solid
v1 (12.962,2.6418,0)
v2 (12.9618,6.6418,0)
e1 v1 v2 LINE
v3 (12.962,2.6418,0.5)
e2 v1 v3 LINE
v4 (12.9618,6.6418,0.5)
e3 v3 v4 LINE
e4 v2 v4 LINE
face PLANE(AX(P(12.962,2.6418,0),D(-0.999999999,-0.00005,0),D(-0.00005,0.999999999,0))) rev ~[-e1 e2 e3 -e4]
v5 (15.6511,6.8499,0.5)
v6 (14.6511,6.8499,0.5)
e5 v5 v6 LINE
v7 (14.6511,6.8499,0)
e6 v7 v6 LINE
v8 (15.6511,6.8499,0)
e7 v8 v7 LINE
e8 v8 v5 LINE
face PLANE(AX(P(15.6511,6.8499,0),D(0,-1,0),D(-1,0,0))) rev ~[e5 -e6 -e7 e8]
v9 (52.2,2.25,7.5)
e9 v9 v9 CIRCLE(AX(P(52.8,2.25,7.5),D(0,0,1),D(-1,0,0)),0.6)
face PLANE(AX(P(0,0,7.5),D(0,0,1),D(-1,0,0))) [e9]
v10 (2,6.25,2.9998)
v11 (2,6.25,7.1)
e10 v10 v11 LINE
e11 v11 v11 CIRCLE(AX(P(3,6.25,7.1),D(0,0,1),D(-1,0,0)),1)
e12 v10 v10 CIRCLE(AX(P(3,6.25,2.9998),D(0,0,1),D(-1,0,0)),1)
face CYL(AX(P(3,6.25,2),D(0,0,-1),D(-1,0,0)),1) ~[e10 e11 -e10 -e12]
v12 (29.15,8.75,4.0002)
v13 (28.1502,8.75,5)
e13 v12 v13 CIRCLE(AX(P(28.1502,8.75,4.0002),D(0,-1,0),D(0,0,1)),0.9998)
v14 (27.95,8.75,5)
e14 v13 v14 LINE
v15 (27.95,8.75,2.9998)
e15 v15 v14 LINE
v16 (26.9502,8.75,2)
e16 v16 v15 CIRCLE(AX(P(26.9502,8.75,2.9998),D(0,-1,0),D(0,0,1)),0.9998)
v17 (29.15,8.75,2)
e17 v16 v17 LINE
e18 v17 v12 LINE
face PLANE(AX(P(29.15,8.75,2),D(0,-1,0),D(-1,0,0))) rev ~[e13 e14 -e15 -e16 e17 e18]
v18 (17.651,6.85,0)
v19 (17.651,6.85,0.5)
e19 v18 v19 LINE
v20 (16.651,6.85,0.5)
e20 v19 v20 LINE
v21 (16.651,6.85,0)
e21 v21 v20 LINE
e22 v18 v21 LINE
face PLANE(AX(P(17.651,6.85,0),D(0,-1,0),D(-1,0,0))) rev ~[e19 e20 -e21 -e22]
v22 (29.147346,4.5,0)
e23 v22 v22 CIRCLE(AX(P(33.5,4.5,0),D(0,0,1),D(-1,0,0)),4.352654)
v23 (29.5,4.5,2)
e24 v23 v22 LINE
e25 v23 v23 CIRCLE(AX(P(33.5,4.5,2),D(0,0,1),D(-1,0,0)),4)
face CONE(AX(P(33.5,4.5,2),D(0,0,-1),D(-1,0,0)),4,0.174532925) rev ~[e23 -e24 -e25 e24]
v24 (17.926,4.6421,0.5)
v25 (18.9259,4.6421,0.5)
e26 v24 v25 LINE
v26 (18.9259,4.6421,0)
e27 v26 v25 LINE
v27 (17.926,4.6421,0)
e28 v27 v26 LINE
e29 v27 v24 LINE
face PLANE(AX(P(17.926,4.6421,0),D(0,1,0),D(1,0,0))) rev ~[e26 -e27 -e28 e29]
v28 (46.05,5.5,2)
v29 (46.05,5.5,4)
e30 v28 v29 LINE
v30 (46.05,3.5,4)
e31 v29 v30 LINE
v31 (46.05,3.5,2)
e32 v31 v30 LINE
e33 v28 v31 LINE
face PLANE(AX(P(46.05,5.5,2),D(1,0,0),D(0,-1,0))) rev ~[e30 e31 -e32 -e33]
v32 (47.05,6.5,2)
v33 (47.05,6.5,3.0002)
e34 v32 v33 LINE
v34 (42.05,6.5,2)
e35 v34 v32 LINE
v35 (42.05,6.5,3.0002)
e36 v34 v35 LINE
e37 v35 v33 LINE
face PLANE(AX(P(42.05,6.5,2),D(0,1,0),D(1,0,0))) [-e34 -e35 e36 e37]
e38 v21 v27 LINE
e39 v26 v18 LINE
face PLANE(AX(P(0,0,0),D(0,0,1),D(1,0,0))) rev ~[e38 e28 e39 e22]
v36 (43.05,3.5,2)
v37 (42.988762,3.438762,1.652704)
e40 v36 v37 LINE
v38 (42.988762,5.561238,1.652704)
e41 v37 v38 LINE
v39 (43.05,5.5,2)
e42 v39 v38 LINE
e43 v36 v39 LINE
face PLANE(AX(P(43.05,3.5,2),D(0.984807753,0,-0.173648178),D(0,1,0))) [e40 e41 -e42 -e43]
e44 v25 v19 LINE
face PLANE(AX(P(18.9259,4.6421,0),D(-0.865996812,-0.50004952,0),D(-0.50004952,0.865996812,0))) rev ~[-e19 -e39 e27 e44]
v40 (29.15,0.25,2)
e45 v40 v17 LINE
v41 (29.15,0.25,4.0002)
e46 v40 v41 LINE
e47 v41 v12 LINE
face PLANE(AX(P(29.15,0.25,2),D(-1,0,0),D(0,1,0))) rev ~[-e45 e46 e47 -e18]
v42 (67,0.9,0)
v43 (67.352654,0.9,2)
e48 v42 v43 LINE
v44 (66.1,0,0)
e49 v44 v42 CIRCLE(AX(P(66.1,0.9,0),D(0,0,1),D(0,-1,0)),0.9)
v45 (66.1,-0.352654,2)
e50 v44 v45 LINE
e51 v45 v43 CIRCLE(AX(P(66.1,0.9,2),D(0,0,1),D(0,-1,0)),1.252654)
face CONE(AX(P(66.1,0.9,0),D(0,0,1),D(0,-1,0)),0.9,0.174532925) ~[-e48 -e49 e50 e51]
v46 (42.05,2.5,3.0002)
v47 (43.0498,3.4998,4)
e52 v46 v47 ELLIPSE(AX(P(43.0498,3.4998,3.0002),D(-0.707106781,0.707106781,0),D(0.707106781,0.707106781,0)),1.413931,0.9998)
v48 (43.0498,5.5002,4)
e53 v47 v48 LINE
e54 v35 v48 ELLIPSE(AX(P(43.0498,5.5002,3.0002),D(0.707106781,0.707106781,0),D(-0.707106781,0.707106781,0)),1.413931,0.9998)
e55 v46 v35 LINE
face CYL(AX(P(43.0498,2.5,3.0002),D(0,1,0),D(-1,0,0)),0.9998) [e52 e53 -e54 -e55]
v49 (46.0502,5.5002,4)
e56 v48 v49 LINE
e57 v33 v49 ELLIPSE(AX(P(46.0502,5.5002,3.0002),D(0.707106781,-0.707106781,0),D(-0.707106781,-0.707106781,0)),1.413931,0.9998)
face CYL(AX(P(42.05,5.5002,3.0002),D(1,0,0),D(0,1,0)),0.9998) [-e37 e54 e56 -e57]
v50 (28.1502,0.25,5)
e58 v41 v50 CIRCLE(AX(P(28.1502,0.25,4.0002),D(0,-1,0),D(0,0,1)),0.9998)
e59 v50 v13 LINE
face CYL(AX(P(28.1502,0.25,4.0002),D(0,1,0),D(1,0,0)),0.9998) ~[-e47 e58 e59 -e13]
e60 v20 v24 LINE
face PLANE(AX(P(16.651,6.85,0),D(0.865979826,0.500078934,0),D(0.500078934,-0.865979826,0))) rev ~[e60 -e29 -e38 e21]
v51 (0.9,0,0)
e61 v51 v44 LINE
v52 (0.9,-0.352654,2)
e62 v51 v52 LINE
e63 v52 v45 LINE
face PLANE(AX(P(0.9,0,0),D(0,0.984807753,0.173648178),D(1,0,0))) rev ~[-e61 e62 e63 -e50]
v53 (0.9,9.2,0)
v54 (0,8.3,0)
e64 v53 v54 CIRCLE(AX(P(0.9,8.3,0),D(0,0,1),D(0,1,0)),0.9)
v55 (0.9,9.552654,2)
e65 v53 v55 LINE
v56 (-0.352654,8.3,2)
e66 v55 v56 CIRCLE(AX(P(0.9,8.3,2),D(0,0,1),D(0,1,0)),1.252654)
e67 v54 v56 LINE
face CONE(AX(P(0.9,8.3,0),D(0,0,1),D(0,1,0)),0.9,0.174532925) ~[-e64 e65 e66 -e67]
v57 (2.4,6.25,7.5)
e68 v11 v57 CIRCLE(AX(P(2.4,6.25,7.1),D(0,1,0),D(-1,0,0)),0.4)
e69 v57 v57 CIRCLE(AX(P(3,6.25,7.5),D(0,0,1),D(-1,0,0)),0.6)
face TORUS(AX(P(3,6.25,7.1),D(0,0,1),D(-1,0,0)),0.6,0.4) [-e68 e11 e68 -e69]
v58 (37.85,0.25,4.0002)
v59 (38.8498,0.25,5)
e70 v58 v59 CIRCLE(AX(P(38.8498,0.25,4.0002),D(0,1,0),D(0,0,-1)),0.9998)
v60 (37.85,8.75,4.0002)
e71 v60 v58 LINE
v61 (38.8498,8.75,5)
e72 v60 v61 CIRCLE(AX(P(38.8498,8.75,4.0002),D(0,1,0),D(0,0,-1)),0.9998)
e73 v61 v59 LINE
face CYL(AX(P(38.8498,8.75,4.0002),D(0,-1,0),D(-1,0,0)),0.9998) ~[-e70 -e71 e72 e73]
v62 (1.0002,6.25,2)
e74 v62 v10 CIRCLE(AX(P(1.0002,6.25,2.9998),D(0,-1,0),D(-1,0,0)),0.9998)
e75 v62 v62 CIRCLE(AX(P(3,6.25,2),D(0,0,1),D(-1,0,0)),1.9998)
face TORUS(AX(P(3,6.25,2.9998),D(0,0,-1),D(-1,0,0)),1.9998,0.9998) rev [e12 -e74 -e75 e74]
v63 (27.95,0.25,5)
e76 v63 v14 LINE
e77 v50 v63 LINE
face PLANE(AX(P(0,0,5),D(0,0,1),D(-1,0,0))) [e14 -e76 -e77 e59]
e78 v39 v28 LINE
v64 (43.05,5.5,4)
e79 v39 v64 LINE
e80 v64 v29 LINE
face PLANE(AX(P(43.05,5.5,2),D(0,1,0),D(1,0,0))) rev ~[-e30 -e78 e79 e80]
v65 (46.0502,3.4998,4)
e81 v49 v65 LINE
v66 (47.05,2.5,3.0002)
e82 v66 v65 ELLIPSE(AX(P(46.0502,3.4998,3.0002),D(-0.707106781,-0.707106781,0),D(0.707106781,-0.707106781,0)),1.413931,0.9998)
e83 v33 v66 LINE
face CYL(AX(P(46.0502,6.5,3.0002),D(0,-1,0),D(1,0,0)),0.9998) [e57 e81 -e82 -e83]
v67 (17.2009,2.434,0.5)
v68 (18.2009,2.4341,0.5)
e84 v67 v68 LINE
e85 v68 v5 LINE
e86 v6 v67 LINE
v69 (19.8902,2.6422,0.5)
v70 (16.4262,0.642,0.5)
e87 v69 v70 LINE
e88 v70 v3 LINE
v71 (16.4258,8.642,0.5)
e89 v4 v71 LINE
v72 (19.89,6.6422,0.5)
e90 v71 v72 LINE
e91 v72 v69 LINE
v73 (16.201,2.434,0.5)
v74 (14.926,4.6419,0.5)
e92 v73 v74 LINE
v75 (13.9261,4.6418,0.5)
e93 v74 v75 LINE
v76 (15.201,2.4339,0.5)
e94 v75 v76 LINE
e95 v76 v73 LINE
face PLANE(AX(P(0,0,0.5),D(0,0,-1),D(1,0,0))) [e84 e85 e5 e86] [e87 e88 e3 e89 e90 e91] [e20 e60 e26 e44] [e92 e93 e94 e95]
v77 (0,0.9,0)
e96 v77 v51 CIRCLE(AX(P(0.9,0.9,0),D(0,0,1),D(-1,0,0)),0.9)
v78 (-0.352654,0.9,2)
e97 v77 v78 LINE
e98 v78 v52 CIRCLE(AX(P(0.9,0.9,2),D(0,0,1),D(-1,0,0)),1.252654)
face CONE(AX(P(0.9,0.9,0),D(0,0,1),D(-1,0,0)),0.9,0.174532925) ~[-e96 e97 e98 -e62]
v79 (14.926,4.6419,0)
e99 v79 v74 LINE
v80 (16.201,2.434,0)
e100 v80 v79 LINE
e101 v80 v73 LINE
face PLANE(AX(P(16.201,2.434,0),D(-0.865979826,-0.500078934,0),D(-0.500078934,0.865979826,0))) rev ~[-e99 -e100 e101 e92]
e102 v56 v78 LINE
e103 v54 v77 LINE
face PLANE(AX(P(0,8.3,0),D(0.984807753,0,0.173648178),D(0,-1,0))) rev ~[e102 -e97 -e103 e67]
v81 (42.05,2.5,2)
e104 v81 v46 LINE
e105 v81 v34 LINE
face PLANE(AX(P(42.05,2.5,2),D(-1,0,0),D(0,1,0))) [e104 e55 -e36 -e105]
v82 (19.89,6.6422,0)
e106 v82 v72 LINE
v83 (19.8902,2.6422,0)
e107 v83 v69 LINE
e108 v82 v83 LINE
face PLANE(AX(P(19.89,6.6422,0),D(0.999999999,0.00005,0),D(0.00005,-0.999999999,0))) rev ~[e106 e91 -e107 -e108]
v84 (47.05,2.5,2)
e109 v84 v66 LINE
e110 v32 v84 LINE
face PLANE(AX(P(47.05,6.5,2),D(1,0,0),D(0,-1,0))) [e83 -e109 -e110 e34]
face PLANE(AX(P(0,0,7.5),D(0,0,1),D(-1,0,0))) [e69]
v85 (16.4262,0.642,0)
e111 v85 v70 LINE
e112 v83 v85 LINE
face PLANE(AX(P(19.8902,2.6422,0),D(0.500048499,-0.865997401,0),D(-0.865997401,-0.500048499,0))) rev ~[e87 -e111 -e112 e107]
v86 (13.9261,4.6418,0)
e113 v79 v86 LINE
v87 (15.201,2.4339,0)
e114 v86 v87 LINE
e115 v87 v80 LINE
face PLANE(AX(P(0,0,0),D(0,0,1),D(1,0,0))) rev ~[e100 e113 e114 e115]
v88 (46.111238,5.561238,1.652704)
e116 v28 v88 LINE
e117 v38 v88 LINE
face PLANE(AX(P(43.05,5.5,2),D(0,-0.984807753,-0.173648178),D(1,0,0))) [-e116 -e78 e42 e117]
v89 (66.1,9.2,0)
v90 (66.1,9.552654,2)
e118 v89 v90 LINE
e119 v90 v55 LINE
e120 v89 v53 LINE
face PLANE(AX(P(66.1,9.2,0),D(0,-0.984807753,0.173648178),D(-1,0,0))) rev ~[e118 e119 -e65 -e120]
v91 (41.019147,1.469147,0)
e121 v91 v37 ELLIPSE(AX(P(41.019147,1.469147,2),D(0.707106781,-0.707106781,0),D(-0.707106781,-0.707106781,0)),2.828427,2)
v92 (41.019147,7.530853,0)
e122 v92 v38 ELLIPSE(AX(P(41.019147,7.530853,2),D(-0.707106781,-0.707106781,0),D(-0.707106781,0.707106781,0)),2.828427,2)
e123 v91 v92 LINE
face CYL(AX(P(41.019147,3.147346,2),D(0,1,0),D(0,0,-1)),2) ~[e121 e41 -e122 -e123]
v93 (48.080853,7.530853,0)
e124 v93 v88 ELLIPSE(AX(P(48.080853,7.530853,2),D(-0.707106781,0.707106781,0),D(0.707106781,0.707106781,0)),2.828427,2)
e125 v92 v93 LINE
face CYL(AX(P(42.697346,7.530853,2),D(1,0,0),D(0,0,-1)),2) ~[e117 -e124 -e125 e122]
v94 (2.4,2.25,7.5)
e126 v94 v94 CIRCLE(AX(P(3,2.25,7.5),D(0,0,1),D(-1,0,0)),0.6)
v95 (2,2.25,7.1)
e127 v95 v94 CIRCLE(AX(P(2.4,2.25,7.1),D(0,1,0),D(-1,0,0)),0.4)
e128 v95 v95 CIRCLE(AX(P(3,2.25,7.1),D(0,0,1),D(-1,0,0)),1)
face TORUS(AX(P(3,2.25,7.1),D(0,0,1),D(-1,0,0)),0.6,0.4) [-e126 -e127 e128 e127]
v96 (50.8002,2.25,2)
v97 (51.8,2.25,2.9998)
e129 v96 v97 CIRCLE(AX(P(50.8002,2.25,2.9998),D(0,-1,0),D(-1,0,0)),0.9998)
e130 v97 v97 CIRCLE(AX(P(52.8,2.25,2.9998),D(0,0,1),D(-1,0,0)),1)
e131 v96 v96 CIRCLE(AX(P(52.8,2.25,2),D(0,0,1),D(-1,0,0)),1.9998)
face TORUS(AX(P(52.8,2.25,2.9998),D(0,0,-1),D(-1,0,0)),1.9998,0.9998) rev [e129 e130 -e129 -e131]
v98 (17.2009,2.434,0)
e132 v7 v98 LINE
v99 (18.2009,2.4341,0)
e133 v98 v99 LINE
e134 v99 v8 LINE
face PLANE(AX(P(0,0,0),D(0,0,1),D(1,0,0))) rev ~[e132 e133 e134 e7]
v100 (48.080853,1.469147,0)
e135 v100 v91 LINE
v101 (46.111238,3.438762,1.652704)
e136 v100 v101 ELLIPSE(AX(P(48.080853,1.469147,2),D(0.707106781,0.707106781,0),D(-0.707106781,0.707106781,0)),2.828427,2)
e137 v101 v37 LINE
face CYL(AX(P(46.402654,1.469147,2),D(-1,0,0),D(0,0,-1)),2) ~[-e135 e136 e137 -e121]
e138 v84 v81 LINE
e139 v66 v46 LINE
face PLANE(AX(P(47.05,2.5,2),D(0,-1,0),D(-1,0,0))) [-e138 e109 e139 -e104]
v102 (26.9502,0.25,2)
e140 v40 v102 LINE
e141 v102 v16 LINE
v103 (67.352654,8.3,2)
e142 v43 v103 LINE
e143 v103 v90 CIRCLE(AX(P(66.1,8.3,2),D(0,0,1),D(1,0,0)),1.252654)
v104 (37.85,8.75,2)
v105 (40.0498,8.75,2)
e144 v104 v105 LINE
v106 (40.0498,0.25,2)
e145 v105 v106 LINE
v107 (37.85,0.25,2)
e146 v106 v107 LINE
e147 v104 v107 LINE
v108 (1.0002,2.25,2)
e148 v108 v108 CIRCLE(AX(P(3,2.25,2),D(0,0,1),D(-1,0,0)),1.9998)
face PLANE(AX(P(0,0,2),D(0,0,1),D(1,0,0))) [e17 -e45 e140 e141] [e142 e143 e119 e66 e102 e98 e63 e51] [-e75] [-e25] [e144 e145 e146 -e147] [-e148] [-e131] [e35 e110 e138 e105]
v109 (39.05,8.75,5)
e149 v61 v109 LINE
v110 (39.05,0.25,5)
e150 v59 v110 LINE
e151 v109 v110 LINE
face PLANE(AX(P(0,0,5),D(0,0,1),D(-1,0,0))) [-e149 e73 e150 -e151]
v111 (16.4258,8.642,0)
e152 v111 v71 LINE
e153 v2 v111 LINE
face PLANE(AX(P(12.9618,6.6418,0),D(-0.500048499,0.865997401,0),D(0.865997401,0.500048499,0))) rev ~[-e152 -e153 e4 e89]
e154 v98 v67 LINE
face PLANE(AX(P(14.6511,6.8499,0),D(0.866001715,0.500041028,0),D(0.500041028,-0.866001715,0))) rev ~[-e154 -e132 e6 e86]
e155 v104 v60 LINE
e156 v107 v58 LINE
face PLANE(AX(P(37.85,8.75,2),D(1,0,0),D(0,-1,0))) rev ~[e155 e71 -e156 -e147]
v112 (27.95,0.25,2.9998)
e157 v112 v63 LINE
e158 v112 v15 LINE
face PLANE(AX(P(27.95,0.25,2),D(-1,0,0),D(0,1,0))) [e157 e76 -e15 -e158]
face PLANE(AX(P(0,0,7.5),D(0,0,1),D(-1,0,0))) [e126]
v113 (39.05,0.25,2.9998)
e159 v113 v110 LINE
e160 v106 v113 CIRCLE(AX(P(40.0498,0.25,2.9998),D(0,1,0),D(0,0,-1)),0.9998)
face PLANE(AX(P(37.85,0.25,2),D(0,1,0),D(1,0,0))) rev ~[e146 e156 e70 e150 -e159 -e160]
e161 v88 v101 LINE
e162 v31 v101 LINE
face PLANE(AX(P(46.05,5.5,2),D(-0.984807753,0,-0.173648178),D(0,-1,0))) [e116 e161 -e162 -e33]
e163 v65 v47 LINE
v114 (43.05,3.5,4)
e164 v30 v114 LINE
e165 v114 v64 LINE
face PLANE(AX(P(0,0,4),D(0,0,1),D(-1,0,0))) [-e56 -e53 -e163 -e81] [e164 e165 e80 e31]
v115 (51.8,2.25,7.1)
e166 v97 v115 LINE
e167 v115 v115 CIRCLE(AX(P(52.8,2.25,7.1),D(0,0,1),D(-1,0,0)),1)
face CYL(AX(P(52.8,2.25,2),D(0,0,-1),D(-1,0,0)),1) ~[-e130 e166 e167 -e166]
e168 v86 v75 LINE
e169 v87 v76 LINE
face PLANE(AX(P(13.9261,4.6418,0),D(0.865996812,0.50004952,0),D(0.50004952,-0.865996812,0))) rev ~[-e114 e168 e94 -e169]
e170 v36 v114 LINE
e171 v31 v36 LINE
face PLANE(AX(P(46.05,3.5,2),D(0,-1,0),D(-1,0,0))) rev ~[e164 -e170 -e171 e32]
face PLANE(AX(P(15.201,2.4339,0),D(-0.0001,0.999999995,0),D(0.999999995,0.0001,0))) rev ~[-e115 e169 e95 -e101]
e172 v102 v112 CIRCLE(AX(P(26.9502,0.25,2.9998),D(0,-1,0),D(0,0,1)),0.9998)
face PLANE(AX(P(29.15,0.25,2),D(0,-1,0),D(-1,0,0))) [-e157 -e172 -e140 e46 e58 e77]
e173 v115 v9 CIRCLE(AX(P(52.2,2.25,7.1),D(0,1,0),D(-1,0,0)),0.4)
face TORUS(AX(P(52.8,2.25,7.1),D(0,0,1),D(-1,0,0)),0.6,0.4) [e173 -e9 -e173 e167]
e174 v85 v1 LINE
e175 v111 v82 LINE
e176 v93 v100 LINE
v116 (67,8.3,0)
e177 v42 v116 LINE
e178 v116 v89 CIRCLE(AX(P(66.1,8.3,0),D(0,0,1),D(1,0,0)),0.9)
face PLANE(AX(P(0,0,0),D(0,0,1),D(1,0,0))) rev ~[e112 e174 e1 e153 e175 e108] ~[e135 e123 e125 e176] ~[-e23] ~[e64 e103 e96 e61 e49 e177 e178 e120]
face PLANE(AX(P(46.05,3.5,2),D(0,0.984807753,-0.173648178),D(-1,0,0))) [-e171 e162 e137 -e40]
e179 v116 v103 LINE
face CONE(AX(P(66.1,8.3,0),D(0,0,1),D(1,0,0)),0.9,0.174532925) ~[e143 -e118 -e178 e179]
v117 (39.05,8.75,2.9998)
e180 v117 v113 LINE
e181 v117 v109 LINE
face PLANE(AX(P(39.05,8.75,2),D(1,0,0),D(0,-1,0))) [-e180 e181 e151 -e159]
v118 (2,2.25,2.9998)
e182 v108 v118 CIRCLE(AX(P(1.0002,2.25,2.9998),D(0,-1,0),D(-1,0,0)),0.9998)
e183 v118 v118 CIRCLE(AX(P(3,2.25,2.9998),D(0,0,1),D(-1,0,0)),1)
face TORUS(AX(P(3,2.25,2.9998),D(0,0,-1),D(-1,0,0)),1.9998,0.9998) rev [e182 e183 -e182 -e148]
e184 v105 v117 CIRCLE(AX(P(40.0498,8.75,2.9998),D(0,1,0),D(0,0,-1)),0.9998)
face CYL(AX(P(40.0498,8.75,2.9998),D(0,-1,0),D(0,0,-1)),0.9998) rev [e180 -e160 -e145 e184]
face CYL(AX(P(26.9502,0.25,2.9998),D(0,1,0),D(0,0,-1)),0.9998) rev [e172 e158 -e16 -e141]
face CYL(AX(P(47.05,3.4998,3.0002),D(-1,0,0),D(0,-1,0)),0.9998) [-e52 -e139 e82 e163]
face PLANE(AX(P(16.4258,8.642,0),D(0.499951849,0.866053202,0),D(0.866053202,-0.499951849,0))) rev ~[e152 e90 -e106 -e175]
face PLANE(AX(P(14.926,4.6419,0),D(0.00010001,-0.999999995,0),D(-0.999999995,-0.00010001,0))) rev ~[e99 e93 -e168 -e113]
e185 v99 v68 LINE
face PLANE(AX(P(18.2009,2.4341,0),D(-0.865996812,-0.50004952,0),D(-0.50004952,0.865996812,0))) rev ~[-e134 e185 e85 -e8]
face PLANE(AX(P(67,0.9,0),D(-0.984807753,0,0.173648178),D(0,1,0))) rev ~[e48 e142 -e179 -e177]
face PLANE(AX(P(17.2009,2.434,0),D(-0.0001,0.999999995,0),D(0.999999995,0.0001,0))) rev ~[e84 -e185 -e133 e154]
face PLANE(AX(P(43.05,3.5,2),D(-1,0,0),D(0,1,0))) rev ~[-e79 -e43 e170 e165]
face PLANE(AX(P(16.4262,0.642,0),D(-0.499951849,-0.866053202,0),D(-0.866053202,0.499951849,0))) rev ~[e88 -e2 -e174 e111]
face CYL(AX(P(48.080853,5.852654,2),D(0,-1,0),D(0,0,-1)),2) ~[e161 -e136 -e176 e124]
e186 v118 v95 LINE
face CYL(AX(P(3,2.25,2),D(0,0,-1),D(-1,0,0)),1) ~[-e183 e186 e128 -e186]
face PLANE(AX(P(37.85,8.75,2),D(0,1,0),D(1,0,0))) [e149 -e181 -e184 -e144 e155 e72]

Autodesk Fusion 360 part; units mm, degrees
sketch "Sketch1" plane through (0, 0, 0) normal (0, 0, 1) x (1, 0, 0) in component "FrontCover"
  line L0 (0.9, 0) -> (66.1, 0)
  line L1 (67, 0.9) -> (67, 8.3)
  line L2 (66.1, 9.2) -> (0.9, 9.2)
  line L3 (0, 8.3) -> (0, 0.9)
  arc A0 (0.9, 9.2) -> (0, 8.3) centre (0.9, 8.3) ccw
  arc A1 (67, 8.3) -> (66.1, 9.2) centre (66.1, 8.3) ccw
  arc A2 (66.1, 0) -> (67, 0.9) centre (66.1, 0.9) ccw
  arc A3 (0, 0.9) -> (0.9, 0) centre (0.9, 0.9) ccw
  point P0 (67, 0)
  point P1 (0, 9.2)
  dimension "d1" = 67
  dimension "d2" = 9.2
  dimension "d3" = 0.9
extrude "Extrude1" add sketch "Sketch1" along normal blind 2 draft 10 in component "FrontCover"
sketch "Sketch2" plane through (0, 0, 2) normal (0, 0, 1) x (-1, 0, 0) in component "FrontCover"
  line L0 (0.3527, -8.3) -> (0.3527, -0.9)
  arc A0 (0.3527, -0.9) -> (-0.9, 0.3527) centre (-0.9, -0.9) ccw
  line L1 (-0.9, 0.3527) -> (-66.1, 0.3527)
  arc A1 (-66.1, 0.3527) -> (-67.3527, -0.9) centre (-66.1, -0.9) ccw
  line L2 (-67.3527, -0.9) -> (-67.3527, -8.3)
  arc A2 (-67.3527, -8.3) -> (-66.1, -9.5527) centre (-66.1, -8.3) ccw
  line L3 (-66.1, -9.5527) -> (-0.9, -9.5527)
  arc A3 (-0.9, -9.5527) -> (0.3527, -8.3) centre (-0.9, -8.3) ccw
  line L4 (-66.1, -9.2) -> (-0.9, -9.2)
  arc A4 (-0.9, -9.2) -> (0, -8.3) centre (-0.9, -8.3) ccw
  line L5 (0, -8.3) -> (0, -0.9)
  arc A5 (0, -0.9) -> (-0.9, 0) centre (-0.9, -0.9) ccw
  line L6 (-0.9, 0) -> (-66.1, 0)
  arc A6 (-66.1, 0) -> (-67, -0.9) centre (-66.1, -0.9) ccw
  line L7 (-67, -0.9) -> (-67, -8.3)
  arc A7 (-67, -8.3) -> (-66.1, -9.2) centre (-66.1, -8.3) ccw
  line L8 (-1, -9.2) -> (-1, 0) construction
  circle A8 centre (-3, -6.25) radius 1
  circle A9 centre (-3, -2.25) radius 1
  circle A10 centre (-33.5, -4.5) radius 4
  circle A11 centre (-52.8, -2.25) radius 1
  line L9 (-37.85, -8.75) -> (-37.85, -0.25)
  line L10 (-29.15, -0.25) -> (-29.15, -8.75)
  line L11 (-29.15, -8.75) -> (-37.85, -0.25) construction
  line L12 (-37.85, -8.75) -> (-29.15, -0.25) construction
  line L13 (-27.95, -0.25) -> (-27.95, -8.75)
  line L14 (-39.05, -8.75) -> (-39.05, -0.25)
  line L15 (-37.85, -8.75) -> (-39.05, -8.75)
  line L16 (-37.85, -0.25) -> (-39.05, -0.25)
  line L17 (-29.15, -0.25) -> (-27.95, -0.25)
  line L18 (-29.15, -8.75) -> (-27.95, -8.75)
  line L19 (-46.05, -3.5) -> (-43.05, -3.5)
  line L20 (-43.05, -3.5) -> (-43.05, -5.5)
  line L21 (-43.05, -5.5) -> (-46.05, -5.5)
  line L22 (-46.05, -5.5) -> (-46.05, -3.5)
  line L23 (-46.05, -3.5) -> (-43.05, -5.5) construction
  line L24 (-43.05, -3.5) -> (-46.05, -5.5) construction
  line L25 (-42.05, -2.5) -> (-42.05, -6.5)
  line L26 (-42.05, -6.5) -> (-47.05, -6.5)
  line L27 (-47.05, -6.5) -> (-47.05, -2.5)
  line L28 (-47.05, -2.5) -> (-42.05, -2.5)
  point P0 (-33.5, -4.5)
  point P1 (-44.55, -4.5)
  dimension "d6" = 1
  dimension "d7" = 2
  dimension "d8" = 2
  dimension "d9" = 2
  dimension "d10" = 2
  dimension "d11" = 8
  dimension "d12" = 32.5
  dimension "d13" = 4.5
  dimension "d14" = 2.25
  dimension "d15" = 6.25
  dimension "d16" = 2
  dimension "d17" = 2.25
  dimension "d18" = 51.8
  dimension "d19" = 8.7
  dimension "d20" = 8.5
  dimension "d21" = -1.2
  dimension "d22" = -1.2
  dimension "d23" = 3
  dimension "d24" = 2
  dimension "d25" = 11.05
  dimension "d44" = -1
extrude "Extrude2" add sketch "Sketch2" along normal blind 3 contours L9 L14 L15 L16 in component "FrontCover"
extrude "Extrude3" add sketch "Sketch2" along normal blind 3 contours L10 L13 L17 L18 in component "FrontCover"
extrude "Extrude4" add sketch "Sketch2" along normal blind 5.5 contours A8 | A9 | A11 in component "FrontCover"
extrude "Extrude8" add sketch "Sketch2" along normal blind 2 contours L25 L26 L27 L28 in component "FrontCover"
extrude "Extrude5" cut sketch "Sketch2" against normal up to surface (2 mm away) draft 10 contours L19 L20 L21 L22 in component "FrontCover"
extrude "Extrude6" cut sketch "Sketch2" against normal up to surface (2 mm away) draft 10 contours A10 in component "FrontCover"
fillet "Fillet1" radius 1 11 edges at (3.9323, 1.8884, 2) (3.9323, 5.8884, 2) (53.7323, 1.8884, 2) (39.05, 4.5, 2) (27.95, 4.5, 2) (29.15, 4.5, 5) (37.85, 4.5, 5) (42.05, 4.5, 4) (47.05, 4.5, 4) (44.55, 2.5, 4) (44.55, 6.5, 4) in component "FrontCover"
fillet "Fillet3" radius 2 4 edges at (44.55, 3.1473, 0) (42.6973, 4.5, 0) (44.55, 5.8527, 0) (46.4027, 4.5, 0) in component "FrontCover"
fillet "Fillet4" radius 0.4 3 edges at (53.7323, 2.6116, 7.5) (3.9323, 6.6116, 7.5) (3.9323, 2.6116, 7.5) in component "FrontCover"
sketch "Sketch3" plane through (0, 0, 0) normal (0, 0, -1) x (1, 0, 0) in component "FrontCover"
  line L0 (66.1, 0) -> (0.9, 0)
  arc A0 (0.9, 0) -> (0, -0.9) centre (0.9, -0.9) ccw
  line L1 (0, -0.9) -> (0, -8.3)
  arc A1 (0, -8.3) -> (0.9, -9.2) centre (0.9, -8.3) ccw
  line L2 (0.9, -9.2) -> (66.1, -9.2)
  line L3 (19.8902, -2.6422) -> (16.4262, -0.642)
  line L4 (12.962, -2.6418) -> (12.9618, -6.6418)
  line L5 (14.926, -4.6419) -> (13.9261, -4.6418)
  line L6 (16.201, -2.434) -> (14.926, -4.6419)
  line L7 (17.2009, -2.434) -> (18.2009, -2.4341)
  line L8 (14.6511, -6.8499) -> (17.2009, -2.434)
  line L9 (16.4262, -0.642) -> (12.962, -2.6418)
  line L10 (18.2009, -2.4341) -> (15.6511, -6.8499)
  line L11 (13.9261, -4.6418) -> (15.201, -2.4339)
  line L12 (15.201, -2.4339) -> (16.201, -2.434)
  line L13 (18.9259, -4.6421) -> (17.651, -6.85)
  line L14 (15.6511, -6.8499) -> (14.6511, -6.8499)
  line L15 (17.651, -6.85) -> (16.651, -6.85)
  line L16 (17.926, -4.6421) -> (18.9259, -4.6421)
  line L17 (16.651, -6.85) -> (17.926, -4.6421)
  line L18 (12.9618, -6.6418) -> (16.4258, -8.642)
  line L19 (19.89, -6.6422) -> (19.8902, -2.6422)
  line L20 (16.4258, -8.642) -> (19.89, -6.6422)
  arc A2 (66.1, -9.2) -> (67, -8.3) centre (66.1, -8.3) ccw
  line L21 (67, -8.3) -> (67, -0.9)
  arc A3 (67, -0.9) -> (66.1, 0) centre (66.1, -0.9) ccw
  circle A4 centre (33.5, -4.5) radius 4.3527
  line L22 (41.0191, -7.5309) -> (41.0191, -1.4691)
  line L23 (41.0191, -1.4691) -> (48.0809, -1.4691)
  line L24 (48.0809, -1.4691) -> (48.0809, -7.5309)
  line L25 (48.0809, -7.5309) -> (41.0191, -7.5309)
extrude "Extrude7" cut sketch "Sketch3" against normal blind 0.5 contours L3 L4 L9 L18 L19 L20 in component "FrontCover"
component "FrontCover" placed x (1, 0, 0) y (0, 1, 0) z (0, 0, 1) at (0, 0, 0)
equation "d25 = ( ( 8.5 / 2 ) * 1 mm ) + 6.8 mm"
